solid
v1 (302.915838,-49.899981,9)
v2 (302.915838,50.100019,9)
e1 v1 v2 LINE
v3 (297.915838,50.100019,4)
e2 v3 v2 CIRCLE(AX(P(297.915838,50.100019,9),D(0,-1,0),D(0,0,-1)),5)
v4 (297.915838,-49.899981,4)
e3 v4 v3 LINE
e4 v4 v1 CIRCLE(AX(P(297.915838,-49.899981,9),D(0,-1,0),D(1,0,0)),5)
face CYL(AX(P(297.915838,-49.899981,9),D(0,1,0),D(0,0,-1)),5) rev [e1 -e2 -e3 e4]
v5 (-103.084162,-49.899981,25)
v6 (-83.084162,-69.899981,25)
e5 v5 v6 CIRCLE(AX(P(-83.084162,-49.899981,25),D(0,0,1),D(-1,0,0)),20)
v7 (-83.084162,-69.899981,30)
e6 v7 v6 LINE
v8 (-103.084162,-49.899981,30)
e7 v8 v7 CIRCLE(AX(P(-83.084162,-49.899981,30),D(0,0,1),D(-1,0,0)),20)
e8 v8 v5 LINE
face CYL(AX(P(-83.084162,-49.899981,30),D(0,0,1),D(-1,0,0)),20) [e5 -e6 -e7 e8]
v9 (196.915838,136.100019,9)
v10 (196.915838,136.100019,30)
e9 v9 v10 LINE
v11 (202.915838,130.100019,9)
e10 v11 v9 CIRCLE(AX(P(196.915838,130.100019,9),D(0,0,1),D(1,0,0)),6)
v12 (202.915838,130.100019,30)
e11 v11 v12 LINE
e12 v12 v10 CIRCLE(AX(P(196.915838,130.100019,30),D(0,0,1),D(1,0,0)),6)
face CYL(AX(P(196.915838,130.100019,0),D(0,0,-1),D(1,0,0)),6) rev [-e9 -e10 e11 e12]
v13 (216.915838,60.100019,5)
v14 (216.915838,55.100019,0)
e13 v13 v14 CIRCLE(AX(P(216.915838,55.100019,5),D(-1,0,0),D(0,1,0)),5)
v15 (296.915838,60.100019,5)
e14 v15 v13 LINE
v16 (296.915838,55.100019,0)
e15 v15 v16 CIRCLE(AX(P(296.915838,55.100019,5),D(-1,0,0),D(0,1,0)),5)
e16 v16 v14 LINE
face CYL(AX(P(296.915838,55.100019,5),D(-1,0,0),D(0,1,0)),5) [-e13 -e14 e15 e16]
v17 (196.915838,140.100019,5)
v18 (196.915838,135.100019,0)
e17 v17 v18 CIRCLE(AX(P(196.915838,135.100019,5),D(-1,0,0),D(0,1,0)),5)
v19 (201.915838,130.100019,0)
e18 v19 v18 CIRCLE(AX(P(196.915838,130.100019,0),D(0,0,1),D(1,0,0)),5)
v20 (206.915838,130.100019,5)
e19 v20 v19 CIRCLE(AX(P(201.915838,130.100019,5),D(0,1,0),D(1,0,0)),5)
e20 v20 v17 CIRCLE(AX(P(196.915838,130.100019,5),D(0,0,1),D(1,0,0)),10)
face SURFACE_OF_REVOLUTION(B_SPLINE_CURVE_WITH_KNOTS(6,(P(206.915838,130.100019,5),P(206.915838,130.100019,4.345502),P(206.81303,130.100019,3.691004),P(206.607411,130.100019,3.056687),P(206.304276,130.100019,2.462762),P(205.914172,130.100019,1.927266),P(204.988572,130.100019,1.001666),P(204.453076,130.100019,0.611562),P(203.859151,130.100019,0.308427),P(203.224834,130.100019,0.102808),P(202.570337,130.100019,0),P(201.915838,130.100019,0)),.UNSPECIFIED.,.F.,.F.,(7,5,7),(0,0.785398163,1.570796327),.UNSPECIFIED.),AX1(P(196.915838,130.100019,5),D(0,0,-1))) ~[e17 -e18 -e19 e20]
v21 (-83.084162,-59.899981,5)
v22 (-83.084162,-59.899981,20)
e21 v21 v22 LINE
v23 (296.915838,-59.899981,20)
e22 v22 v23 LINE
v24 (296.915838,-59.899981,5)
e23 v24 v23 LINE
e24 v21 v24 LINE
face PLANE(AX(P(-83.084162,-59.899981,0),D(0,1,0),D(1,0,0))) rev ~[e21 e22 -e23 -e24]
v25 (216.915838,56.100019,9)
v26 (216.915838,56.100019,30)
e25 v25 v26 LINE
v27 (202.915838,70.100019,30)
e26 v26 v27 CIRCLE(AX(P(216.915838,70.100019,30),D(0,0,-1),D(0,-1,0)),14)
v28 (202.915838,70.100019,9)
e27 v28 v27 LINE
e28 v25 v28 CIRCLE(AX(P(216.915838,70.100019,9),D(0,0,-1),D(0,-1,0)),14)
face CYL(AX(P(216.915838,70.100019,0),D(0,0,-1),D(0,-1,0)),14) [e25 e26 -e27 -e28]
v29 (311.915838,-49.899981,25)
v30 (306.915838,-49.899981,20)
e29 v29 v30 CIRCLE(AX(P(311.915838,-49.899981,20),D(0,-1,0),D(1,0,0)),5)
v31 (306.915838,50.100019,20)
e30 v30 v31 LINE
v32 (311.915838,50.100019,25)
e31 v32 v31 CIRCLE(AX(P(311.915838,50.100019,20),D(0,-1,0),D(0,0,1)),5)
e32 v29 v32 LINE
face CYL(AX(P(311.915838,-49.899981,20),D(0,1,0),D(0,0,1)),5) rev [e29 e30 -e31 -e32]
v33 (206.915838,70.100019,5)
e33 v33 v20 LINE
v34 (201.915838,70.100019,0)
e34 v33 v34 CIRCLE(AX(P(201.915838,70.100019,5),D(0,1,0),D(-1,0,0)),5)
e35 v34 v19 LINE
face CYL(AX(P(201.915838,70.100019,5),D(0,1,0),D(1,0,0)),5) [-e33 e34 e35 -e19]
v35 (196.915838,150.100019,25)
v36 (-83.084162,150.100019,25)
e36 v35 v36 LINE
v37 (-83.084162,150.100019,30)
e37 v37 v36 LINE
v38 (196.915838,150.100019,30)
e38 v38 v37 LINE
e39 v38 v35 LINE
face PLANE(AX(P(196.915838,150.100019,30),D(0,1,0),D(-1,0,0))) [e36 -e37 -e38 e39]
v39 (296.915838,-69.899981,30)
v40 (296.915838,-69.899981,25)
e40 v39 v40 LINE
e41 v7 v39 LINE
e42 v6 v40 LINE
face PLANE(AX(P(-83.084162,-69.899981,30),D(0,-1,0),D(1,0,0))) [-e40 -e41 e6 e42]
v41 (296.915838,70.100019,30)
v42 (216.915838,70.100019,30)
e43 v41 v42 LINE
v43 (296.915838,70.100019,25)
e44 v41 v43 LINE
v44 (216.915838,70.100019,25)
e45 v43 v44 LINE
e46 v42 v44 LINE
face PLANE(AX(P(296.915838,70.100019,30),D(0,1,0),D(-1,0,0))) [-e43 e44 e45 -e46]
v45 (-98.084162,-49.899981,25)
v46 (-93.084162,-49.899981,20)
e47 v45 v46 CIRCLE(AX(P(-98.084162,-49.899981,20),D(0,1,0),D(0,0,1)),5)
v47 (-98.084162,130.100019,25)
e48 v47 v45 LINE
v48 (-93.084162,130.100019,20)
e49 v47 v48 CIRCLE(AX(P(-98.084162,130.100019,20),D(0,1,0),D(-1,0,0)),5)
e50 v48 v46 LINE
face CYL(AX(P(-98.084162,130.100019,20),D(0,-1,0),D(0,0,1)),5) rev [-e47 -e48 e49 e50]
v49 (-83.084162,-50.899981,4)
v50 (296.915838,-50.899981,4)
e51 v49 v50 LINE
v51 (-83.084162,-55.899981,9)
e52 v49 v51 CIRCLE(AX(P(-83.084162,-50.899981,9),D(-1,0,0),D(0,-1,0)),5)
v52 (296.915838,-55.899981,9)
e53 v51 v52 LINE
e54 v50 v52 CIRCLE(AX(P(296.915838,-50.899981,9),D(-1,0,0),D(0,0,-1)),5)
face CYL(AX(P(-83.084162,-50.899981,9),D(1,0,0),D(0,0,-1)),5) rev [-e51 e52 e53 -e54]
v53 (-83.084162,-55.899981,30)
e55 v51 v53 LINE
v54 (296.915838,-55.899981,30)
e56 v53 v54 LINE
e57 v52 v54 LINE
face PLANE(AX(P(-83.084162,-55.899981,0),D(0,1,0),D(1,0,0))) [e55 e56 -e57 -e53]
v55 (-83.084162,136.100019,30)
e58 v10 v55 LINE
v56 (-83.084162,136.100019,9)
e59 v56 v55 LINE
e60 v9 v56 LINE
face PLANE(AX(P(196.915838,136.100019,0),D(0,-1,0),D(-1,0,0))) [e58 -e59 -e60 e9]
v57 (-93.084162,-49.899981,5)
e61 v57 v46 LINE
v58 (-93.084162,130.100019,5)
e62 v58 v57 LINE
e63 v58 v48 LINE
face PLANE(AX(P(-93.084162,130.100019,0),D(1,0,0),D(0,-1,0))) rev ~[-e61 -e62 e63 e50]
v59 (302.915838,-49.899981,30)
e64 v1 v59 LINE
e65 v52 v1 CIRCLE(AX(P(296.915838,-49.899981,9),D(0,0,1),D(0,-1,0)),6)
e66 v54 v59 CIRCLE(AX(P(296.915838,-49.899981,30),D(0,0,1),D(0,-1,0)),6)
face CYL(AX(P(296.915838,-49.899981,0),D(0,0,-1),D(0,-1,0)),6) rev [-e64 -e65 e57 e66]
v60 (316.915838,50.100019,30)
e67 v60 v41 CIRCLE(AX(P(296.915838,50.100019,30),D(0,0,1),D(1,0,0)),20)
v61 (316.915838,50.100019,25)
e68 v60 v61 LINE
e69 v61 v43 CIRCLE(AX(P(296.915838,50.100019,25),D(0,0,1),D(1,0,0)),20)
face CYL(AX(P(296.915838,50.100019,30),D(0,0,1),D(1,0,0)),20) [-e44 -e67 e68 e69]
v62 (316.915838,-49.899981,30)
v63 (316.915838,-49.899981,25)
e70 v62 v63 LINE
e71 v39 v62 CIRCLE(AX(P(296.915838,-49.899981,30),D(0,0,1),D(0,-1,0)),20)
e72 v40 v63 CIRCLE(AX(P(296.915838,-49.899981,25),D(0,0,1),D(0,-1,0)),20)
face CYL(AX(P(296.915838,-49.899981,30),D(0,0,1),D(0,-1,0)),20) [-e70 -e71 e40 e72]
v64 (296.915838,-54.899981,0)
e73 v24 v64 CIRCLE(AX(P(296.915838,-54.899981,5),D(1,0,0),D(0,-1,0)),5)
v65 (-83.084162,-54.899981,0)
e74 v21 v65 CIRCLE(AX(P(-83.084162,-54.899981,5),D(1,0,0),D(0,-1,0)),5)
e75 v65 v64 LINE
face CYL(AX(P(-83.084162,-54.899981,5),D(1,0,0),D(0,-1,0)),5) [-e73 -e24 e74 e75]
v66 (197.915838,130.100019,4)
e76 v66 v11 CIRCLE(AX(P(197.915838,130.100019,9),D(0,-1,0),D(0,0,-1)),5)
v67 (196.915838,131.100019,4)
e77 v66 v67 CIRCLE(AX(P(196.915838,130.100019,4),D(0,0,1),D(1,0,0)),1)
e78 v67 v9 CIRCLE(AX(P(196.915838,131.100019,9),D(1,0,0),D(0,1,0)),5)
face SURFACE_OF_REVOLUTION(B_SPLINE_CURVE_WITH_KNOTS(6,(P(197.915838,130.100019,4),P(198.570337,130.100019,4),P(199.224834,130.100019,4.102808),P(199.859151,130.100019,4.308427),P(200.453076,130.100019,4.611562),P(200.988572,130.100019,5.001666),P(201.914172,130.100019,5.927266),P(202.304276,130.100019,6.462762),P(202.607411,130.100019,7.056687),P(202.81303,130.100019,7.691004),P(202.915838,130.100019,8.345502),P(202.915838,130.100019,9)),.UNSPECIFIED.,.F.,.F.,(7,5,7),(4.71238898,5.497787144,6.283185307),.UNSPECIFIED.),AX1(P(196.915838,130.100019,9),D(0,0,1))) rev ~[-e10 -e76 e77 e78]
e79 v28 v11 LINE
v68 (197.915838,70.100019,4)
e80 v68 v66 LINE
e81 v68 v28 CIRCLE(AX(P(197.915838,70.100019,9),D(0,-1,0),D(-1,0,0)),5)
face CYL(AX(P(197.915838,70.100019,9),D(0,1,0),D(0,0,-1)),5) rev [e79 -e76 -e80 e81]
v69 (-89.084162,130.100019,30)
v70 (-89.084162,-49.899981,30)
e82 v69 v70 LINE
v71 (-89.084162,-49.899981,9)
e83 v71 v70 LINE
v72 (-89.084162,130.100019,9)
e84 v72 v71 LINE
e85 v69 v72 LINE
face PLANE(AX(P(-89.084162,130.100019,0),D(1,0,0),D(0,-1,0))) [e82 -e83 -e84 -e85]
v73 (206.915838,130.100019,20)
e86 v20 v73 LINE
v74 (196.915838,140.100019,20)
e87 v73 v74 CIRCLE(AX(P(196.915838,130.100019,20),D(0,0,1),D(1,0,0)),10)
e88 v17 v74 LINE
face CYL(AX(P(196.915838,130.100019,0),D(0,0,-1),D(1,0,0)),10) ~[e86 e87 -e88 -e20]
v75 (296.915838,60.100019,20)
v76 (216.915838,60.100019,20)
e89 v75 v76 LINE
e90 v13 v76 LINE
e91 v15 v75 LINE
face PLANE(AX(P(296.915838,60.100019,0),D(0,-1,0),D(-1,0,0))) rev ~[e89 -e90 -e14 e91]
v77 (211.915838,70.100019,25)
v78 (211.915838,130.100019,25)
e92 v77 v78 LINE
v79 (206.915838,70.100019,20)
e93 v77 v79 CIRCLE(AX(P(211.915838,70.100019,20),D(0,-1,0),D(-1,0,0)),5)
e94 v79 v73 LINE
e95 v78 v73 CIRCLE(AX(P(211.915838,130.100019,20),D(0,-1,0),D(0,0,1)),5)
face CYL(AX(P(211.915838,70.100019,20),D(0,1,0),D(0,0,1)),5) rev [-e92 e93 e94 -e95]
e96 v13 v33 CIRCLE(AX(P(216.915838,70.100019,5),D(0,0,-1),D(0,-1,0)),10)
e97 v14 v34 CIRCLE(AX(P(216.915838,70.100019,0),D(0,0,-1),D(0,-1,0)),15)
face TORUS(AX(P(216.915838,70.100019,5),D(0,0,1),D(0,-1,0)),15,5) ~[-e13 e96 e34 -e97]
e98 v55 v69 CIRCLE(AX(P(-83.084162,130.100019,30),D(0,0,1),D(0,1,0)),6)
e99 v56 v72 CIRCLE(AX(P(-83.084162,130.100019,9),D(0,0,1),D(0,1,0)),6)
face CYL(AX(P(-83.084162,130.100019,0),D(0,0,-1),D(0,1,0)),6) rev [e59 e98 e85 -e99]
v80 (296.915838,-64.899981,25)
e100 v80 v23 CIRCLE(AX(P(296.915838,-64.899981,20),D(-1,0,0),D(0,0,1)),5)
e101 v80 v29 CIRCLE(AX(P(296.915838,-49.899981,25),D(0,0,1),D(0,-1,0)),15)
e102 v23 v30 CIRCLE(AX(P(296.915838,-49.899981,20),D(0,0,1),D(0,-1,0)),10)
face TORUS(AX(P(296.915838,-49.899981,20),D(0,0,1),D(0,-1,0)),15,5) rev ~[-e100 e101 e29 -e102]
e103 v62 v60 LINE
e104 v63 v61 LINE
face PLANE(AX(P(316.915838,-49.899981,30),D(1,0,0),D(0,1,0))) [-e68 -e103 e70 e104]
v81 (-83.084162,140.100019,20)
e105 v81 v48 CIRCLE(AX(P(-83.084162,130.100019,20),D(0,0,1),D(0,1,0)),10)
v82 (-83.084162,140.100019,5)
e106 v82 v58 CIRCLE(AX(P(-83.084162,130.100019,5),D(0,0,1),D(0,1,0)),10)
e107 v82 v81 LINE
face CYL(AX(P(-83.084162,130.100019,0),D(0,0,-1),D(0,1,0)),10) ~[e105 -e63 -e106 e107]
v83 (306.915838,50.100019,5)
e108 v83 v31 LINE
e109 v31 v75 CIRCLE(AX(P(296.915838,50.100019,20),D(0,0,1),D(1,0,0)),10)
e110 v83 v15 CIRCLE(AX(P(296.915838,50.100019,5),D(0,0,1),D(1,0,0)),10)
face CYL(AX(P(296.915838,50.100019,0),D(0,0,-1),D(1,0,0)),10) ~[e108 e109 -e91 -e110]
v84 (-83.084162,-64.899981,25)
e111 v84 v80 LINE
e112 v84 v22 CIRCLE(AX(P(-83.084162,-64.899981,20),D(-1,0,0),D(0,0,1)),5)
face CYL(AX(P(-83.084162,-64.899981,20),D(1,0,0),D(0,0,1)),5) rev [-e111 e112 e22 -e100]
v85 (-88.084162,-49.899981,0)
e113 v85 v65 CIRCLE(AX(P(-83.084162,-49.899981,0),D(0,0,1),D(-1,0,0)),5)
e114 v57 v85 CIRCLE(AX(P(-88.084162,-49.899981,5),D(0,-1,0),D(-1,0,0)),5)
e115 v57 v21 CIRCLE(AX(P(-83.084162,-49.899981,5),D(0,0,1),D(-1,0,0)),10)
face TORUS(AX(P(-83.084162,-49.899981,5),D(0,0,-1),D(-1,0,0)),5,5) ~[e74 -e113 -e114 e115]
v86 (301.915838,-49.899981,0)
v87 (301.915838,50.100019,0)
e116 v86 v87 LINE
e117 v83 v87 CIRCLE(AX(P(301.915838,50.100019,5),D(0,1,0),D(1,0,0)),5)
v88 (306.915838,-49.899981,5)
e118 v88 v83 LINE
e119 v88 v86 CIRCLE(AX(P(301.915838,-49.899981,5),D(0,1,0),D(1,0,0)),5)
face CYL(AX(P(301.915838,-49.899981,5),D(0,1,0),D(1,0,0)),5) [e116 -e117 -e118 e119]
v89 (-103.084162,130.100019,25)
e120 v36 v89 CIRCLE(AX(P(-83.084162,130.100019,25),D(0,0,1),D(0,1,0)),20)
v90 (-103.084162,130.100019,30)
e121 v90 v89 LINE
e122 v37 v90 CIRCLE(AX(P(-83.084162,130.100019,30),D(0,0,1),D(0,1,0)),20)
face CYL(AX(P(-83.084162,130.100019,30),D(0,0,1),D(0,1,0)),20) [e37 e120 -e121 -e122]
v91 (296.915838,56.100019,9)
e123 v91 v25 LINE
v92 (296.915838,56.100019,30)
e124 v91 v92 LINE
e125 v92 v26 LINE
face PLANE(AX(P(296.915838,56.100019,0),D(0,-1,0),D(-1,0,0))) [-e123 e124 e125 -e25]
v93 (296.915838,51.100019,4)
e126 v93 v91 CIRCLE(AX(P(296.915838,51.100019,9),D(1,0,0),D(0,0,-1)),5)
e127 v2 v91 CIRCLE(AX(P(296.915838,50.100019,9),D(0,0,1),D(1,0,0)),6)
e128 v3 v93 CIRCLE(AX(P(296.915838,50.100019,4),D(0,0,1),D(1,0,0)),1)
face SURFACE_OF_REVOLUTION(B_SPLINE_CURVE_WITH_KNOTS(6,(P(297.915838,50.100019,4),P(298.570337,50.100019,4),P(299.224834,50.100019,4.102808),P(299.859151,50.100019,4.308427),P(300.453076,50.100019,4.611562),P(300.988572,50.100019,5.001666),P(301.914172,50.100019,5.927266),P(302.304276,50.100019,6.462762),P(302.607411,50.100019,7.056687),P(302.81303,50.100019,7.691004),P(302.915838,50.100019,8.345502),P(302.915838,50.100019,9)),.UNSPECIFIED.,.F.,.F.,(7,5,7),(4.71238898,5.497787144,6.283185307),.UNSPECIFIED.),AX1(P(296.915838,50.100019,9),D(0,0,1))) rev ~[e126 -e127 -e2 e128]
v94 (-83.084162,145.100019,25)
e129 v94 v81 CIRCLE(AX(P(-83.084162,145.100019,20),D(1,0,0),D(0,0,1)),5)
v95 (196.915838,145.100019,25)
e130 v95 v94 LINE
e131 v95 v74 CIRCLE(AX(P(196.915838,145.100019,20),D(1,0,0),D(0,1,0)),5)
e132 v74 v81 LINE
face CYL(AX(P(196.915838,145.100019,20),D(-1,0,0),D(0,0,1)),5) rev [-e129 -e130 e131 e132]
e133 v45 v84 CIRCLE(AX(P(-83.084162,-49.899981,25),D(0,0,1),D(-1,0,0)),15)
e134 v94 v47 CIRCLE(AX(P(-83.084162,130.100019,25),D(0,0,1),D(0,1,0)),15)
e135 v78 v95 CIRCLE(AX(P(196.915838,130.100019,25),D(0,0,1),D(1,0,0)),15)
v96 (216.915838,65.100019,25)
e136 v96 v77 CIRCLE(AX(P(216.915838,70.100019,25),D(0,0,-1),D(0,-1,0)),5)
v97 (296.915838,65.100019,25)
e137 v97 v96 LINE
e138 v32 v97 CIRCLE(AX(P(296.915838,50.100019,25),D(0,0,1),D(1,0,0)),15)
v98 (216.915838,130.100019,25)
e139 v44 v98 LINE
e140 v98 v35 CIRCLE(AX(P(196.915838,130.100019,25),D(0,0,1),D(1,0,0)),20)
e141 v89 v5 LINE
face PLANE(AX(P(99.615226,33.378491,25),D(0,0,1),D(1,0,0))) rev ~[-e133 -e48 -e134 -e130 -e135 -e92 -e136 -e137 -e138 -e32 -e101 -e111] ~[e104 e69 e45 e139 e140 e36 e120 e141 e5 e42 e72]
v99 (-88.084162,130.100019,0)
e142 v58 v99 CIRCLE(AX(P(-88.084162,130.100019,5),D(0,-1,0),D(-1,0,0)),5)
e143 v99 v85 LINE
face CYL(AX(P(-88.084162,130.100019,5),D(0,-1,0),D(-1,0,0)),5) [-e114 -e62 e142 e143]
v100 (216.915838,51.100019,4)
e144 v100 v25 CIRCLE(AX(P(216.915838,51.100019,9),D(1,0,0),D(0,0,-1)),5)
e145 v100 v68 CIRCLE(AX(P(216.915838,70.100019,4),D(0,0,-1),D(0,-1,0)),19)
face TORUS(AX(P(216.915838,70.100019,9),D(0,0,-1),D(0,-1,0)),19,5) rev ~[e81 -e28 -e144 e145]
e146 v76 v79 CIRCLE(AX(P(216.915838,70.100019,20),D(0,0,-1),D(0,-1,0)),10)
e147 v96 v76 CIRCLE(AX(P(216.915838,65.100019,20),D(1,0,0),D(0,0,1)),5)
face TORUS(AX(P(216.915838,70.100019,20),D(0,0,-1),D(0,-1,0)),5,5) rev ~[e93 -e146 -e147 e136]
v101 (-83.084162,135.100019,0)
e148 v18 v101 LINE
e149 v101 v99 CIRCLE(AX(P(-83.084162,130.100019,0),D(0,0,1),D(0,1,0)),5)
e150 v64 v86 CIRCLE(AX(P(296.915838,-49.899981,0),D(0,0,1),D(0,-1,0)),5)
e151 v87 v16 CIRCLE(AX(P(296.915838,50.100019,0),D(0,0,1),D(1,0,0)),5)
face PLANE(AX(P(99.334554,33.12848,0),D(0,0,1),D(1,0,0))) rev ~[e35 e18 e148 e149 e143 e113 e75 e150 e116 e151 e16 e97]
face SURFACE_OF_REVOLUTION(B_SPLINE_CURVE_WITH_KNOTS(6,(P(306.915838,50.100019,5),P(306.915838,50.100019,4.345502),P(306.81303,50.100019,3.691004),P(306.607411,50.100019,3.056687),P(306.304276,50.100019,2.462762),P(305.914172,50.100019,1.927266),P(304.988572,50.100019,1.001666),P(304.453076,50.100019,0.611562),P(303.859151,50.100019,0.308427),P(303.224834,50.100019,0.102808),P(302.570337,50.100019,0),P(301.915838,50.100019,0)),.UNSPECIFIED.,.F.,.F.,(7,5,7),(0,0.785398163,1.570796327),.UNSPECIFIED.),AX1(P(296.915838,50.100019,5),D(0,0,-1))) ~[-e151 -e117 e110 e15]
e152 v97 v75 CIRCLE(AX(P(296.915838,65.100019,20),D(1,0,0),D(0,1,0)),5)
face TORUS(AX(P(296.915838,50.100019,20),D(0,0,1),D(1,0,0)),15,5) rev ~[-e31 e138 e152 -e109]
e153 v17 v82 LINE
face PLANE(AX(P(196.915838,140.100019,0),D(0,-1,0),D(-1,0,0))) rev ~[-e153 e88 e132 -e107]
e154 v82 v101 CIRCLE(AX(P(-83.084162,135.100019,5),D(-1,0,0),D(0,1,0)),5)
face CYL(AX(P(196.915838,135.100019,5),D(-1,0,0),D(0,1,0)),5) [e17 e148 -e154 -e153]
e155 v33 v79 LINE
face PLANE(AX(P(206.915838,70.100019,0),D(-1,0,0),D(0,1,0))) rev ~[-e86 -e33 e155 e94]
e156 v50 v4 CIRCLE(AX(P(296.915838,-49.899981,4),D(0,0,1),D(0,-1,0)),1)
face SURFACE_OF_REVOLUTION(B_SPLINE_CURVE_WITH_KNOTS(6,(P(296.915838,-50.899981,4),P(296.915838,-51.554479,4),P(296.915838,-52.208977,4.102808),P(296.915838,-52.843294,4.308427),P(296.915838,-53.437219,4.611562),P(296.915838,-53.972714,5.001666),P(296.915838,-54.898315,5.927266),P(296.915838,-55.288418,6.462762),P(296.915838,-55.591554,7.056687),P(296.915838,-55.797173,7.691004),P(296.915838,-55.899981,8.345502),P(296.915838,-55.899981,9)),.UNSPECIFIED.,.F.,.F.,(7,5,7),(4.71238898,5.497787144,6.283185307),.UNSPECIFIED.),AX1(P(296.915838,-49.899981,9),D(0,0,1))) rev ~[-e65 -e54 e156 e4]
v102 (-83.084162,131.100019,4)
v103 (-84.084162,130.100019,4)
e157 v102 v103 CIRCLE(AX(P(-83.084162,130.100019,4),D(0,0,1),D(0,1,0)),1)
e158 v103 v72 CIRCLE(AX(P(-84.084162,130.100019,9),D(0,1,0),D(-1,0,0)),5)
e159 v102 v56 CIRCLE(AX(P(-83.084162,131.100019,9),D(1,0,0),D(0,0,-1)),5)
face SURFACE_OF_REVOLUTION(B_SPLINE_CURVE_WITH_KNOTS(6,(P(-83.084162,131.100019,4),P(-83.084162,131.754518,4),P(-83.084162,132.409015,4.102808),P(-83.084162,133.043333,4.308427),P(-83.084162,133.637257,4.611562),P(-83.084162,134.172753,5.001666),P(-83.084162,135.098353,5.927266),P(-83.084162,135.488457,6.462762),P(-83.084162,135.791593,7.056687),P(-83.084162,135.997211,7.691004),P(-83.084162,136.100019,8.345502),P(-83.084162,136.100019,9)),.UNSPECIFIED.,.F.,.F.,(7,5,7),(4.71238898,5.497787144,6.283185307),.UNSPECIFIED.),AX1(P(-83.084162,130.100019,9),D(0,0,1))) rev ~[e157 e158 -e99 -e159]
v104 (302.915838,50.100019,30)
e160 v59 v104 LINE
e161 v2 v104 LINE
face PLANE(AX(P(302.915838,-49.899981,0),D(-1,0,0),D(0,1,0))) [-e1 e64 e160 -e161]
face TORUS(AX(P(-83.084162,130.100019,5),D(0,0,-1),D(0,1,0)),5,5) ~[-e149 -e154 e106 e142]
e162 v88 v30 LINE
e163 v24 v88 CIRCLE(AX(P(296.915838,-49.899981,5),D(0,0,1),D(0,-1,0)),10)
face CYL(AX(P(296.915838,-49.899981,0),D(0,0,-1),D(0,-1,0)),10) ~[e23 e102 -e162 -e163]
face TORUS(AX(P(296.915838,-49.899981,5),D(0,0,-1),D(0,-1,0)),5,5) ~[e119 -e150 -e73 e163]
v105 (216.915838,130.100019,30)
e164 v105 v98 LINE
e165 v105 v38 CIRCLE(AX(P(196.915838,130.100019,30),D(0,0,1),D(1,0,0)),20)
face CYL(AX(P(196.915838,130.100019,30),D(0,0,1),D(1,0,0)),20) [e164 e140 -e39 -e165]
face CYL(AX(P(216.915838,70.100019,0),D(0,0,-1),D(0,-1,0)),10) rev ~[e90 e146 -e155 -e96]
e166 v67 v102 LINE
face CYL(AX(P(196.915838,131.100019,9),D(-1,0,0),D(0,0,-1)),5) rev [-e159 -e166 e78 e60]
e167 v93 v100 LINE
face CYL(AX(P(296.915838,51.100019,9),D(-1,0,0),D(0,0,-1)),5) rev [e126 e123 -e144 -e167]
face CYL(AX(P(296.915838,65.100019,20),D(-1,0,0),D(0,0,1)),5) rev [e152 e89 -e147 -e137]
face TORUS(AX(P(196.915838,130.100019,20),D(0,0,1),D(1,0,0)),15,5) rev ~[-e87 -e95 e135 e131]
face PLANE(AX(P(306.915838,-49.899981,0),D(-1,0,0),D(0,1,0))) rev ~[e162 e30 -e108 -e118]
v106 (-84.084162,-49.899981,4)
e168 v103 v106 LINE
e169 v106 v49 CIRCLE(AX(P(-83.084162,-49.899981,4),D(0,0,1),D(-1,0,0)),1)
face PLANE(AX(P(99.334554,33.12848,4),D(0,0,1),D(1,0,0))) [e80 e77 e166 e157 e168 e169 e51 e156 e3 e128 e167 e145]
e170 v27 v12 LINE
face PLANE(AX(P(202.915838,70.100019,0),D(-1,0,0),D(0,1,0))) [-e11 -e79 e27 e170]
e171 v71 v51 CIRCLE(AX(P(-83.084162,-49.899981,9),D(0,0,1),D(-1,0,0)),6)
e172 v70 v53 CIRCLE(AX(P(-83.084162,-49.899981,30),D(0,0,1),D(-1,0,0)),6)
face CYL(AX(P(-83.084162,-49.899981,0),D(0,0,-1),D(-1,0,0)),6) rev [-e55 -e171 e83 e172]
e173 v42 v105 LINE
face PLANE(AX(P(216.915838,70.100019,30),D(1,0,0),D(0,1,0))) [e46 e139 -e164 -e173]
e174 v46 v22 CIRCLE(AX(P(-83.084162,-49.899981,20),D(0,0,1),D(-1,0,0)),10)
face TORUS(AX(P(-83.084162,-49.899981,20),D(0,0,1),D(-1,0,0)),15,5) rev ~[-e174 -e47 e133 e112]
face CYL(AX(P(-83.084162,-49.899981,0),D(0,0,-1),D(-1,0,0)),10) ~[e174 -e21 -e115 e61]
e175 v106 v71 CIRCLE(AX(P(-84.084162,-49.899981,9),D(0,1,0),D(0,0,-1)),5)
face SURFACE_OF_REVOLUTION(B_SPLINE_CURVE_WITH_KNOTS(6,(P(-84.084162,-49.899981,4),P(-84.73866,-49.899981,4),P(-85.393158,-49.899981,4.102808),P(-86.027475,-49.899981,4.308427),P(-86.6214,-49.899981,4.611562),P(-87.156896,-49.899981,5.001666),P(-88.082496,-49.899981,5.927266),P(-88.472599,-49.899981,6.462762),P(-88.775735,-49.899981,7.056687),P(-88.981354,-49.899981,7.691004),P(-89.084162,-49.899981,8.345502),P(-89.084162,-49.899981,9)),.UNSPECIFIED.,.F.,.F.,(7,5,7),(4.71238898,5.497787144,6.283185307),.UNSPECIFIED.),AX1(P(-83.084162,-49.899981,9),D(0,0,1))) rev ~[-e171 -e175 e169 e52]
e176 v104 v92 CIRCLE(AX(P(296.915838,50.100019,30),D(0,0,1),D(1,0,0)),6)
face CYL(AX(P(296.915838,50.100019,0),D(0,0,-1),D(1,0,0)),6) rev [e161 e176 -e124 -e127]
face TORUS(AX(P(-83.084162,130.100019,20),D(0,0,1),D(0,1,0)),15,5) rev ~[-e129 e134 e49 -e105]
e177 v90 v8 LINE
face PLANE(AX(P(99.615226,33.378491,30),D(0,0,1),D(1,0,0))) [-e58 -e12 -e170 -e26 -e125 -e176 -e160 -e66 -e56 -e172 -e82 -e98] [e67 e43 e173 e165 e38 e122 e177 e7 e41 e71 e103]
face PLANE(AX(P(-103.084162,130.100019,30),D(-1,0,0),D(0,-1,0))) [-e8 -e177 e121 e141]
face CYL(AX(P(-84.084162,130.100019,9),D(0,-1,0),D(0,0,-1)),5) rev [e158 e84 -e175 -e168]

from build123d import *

# Parameters (mm, degrees)
F1_DEPTH = 30
F2_T     = -4
F4_DEPTH = 5
F5_R     = 5
F6_R     = 5


with BuildPart() as f1:
    # F0 (on Top) → F1 (new body)
    with BuildSketch(Plane.XY):
        with BuildLine():
            ThreePointArc((-83.0841619524, 140.1000192761), (-90.1552297642, 137.171087088), (-93.0841619524, 130.1000192761))
            Line((-93.0841619524, 130.1000192761), (-93.0841619524, -49.8999807239))
            ThreePointArc((-93.0841619524, -49.8999807239), (-90.1552297642, -56.9710485357), (-83.0841619524, -59.8999807239))
            Line((-83.0841619524, -59.8999807239), (296.9158380476, -59.8999807239))
            ThreePointArc((296.9158380476, -59.8999807239), (303.9869058595, -56.9710485357), (306.9158380476, -49.8999807239))
            Line((306.9158380476, -49.8999807239), (306.9158380476, 50.1000192761))
            ThreePointArc((306.9158380476, 50.1000192761), (303.9869058595, 57.171087088), (296.9158380476, 60.1000192761))
            Line((296.9158380476, 60.1000192761), (216.9158380476, 60.1000192761))
            ThreePointArc((216.9158380476, 60.1000192761), (209.8447702358, 63.0289514643), (206.9158380476, 70.1000192761))
            Line((206.9158380476, 70.1000192761), (206.9158380476, 130.1000192761))
            ThreePointArc((206.9158380476, 130.1000192761), (203.9869058595, 137.171087088), (196.9158380476, 140.1000192761))
            Line((196.9158380476, 140.1000192761), (-83.0841619524, 140.1000192761))
        make_face()
    extrude(amount=F1_DEPTH)

    # F2
    f2_openings = [f1.faces().sort_by_distance(p)[0] for p in [
        (90.23061, 33.426728, 30),
    ]]
    offset(amount=F2_T, openings=f2_openings)

    # F3 (on face) → F4 (join)
    with BuildSketch(Plane.XY.offset(30)):
        with BuildLine():
            Line((196.9158380476, 150.1000192761), (-83.0841619524, 150.1000192761))
            ThreePointArc((-83.0841619524, 150.1000192761), (-97.2262975761, 144.2421548999), (-103.0841619524, 130.1000192761))
            Line((-103.0841619524, 130.1000192761), (-103.0841619524, -49.8999807239))
            ThreePointArc((-103.0841619524, -49.8999807239), (-97.2262975761, -64.0421163476), (-83.0841619524, -69.8999807239))
            Line((-83.0841619524, -69.8999807239), (296.9158380476, -69.8999807239))
            ThreePointArc((296.9158380476, -69.8999807239), (311.0579736714, -64.0421163476), (316.9158380476, -49.8999807239))
            Line((316.9158380476, -49.8999807239), (316.9158380476, 50.1000192761))
            ThreePointArc((316.9158380476, 50.1000192761), (311.0579736714, 64.2421548999), (296.9158380476, 70.1000192761))
            Line((296.9158380476, 70.1000192761), (216.9158380476, 70.1000192761))
            Line((216.9158380476, 70.1000192761), (216.9158380476, 130.1000192761))
            ThreePointArc((216.9158380476, 130.1000192761), (211.0579736714, 144.2421548999), (196.9158380476, 150.1000192761))
        make_face()
        with BuildLine():
            ThreePointArc((196.9158380476, 136.1000192761), (201.1584787347, 134.3426599633), (202.9158380476, 130.1000192761))
            Line((202.9158380476, 130.1000192761), (202.9158380476, 70.1000192761))
            ThreePointArc((202.9158380476, 70.1000192761), (207.016343111, 60.2005243395), (216.9158380476, 56.1000192761))
            Line((216.9158380476, 56.1000192761), (296.9158380476, 56.1000192761))
            ThreePointArc((296.9158380476, 56.1000192761), (301.1584787347, 54.3426599633), (302.9158380476, 50.1000192761))
            Line((302.9158380476, 50.1000192761), (302.9158380476, -49.8999807239))
            ThreePointArc((302.9158380476, -49.8999807239), (301.1584787347, -54.142621411), (296.9158380476, -55.8999807239))
            Line((296.9158380476, -55.8999807239), (-83.0841619524, -55.8999807239))
            ThreePointArc((-83.0841619524, -55.8999807239), (-87.3268026395, -54.142621411), (-89.0841619524, -49.8999807239))
            Line((-89.0841619524, -49.8999807239), (-89.0841619524, 130.1000192761))
            ThreePointArc((-89.0841619524, 130.1000192761), (-87.3268026395, 134.3426599633), (-83.0841619524, 136.1000192761))
            Line((-83.0841619524, 136.1000192761), (196.9158380476, 136.1000192761))
        make_face(mode=Mode.SUBTRACT)
    extrude(amount=-F4_DEPTH)

    # F5
    f5_edges = [f1.edges().sort_by_distance(p)[0] for p in [
        (256.915838, 56.100019, 4),
        (207.016343, 60.200524, 4),
        (202.915838, 100.100019, 4),
        (201.158479, 134.34266, 4),
        (56.915838, 136.100019, 4),
        (-87.326803, 134.34266, 4),
        (-89.084162, 40.100019, 4),
        (-87.326803, -54.142621, 4),
        (106.915838, -55.899981, 4),
        (301.158479, -54.142621, 4),
        (302.915838, 0.100019, 4),
        (301.158479, 54.34266, 4),
    ]]
    fillet(f5_edges, radius=F5_R)

    # F6
    f6_edges = [f1.edges().sort_by_distance(p)[0] for p in [
        (106.915838, -59.899981, 25),
        (106.915838, -59.899981, 0),
    ]]
    fillet(f6_edges, radius=F6_R)


solid = f1.part
